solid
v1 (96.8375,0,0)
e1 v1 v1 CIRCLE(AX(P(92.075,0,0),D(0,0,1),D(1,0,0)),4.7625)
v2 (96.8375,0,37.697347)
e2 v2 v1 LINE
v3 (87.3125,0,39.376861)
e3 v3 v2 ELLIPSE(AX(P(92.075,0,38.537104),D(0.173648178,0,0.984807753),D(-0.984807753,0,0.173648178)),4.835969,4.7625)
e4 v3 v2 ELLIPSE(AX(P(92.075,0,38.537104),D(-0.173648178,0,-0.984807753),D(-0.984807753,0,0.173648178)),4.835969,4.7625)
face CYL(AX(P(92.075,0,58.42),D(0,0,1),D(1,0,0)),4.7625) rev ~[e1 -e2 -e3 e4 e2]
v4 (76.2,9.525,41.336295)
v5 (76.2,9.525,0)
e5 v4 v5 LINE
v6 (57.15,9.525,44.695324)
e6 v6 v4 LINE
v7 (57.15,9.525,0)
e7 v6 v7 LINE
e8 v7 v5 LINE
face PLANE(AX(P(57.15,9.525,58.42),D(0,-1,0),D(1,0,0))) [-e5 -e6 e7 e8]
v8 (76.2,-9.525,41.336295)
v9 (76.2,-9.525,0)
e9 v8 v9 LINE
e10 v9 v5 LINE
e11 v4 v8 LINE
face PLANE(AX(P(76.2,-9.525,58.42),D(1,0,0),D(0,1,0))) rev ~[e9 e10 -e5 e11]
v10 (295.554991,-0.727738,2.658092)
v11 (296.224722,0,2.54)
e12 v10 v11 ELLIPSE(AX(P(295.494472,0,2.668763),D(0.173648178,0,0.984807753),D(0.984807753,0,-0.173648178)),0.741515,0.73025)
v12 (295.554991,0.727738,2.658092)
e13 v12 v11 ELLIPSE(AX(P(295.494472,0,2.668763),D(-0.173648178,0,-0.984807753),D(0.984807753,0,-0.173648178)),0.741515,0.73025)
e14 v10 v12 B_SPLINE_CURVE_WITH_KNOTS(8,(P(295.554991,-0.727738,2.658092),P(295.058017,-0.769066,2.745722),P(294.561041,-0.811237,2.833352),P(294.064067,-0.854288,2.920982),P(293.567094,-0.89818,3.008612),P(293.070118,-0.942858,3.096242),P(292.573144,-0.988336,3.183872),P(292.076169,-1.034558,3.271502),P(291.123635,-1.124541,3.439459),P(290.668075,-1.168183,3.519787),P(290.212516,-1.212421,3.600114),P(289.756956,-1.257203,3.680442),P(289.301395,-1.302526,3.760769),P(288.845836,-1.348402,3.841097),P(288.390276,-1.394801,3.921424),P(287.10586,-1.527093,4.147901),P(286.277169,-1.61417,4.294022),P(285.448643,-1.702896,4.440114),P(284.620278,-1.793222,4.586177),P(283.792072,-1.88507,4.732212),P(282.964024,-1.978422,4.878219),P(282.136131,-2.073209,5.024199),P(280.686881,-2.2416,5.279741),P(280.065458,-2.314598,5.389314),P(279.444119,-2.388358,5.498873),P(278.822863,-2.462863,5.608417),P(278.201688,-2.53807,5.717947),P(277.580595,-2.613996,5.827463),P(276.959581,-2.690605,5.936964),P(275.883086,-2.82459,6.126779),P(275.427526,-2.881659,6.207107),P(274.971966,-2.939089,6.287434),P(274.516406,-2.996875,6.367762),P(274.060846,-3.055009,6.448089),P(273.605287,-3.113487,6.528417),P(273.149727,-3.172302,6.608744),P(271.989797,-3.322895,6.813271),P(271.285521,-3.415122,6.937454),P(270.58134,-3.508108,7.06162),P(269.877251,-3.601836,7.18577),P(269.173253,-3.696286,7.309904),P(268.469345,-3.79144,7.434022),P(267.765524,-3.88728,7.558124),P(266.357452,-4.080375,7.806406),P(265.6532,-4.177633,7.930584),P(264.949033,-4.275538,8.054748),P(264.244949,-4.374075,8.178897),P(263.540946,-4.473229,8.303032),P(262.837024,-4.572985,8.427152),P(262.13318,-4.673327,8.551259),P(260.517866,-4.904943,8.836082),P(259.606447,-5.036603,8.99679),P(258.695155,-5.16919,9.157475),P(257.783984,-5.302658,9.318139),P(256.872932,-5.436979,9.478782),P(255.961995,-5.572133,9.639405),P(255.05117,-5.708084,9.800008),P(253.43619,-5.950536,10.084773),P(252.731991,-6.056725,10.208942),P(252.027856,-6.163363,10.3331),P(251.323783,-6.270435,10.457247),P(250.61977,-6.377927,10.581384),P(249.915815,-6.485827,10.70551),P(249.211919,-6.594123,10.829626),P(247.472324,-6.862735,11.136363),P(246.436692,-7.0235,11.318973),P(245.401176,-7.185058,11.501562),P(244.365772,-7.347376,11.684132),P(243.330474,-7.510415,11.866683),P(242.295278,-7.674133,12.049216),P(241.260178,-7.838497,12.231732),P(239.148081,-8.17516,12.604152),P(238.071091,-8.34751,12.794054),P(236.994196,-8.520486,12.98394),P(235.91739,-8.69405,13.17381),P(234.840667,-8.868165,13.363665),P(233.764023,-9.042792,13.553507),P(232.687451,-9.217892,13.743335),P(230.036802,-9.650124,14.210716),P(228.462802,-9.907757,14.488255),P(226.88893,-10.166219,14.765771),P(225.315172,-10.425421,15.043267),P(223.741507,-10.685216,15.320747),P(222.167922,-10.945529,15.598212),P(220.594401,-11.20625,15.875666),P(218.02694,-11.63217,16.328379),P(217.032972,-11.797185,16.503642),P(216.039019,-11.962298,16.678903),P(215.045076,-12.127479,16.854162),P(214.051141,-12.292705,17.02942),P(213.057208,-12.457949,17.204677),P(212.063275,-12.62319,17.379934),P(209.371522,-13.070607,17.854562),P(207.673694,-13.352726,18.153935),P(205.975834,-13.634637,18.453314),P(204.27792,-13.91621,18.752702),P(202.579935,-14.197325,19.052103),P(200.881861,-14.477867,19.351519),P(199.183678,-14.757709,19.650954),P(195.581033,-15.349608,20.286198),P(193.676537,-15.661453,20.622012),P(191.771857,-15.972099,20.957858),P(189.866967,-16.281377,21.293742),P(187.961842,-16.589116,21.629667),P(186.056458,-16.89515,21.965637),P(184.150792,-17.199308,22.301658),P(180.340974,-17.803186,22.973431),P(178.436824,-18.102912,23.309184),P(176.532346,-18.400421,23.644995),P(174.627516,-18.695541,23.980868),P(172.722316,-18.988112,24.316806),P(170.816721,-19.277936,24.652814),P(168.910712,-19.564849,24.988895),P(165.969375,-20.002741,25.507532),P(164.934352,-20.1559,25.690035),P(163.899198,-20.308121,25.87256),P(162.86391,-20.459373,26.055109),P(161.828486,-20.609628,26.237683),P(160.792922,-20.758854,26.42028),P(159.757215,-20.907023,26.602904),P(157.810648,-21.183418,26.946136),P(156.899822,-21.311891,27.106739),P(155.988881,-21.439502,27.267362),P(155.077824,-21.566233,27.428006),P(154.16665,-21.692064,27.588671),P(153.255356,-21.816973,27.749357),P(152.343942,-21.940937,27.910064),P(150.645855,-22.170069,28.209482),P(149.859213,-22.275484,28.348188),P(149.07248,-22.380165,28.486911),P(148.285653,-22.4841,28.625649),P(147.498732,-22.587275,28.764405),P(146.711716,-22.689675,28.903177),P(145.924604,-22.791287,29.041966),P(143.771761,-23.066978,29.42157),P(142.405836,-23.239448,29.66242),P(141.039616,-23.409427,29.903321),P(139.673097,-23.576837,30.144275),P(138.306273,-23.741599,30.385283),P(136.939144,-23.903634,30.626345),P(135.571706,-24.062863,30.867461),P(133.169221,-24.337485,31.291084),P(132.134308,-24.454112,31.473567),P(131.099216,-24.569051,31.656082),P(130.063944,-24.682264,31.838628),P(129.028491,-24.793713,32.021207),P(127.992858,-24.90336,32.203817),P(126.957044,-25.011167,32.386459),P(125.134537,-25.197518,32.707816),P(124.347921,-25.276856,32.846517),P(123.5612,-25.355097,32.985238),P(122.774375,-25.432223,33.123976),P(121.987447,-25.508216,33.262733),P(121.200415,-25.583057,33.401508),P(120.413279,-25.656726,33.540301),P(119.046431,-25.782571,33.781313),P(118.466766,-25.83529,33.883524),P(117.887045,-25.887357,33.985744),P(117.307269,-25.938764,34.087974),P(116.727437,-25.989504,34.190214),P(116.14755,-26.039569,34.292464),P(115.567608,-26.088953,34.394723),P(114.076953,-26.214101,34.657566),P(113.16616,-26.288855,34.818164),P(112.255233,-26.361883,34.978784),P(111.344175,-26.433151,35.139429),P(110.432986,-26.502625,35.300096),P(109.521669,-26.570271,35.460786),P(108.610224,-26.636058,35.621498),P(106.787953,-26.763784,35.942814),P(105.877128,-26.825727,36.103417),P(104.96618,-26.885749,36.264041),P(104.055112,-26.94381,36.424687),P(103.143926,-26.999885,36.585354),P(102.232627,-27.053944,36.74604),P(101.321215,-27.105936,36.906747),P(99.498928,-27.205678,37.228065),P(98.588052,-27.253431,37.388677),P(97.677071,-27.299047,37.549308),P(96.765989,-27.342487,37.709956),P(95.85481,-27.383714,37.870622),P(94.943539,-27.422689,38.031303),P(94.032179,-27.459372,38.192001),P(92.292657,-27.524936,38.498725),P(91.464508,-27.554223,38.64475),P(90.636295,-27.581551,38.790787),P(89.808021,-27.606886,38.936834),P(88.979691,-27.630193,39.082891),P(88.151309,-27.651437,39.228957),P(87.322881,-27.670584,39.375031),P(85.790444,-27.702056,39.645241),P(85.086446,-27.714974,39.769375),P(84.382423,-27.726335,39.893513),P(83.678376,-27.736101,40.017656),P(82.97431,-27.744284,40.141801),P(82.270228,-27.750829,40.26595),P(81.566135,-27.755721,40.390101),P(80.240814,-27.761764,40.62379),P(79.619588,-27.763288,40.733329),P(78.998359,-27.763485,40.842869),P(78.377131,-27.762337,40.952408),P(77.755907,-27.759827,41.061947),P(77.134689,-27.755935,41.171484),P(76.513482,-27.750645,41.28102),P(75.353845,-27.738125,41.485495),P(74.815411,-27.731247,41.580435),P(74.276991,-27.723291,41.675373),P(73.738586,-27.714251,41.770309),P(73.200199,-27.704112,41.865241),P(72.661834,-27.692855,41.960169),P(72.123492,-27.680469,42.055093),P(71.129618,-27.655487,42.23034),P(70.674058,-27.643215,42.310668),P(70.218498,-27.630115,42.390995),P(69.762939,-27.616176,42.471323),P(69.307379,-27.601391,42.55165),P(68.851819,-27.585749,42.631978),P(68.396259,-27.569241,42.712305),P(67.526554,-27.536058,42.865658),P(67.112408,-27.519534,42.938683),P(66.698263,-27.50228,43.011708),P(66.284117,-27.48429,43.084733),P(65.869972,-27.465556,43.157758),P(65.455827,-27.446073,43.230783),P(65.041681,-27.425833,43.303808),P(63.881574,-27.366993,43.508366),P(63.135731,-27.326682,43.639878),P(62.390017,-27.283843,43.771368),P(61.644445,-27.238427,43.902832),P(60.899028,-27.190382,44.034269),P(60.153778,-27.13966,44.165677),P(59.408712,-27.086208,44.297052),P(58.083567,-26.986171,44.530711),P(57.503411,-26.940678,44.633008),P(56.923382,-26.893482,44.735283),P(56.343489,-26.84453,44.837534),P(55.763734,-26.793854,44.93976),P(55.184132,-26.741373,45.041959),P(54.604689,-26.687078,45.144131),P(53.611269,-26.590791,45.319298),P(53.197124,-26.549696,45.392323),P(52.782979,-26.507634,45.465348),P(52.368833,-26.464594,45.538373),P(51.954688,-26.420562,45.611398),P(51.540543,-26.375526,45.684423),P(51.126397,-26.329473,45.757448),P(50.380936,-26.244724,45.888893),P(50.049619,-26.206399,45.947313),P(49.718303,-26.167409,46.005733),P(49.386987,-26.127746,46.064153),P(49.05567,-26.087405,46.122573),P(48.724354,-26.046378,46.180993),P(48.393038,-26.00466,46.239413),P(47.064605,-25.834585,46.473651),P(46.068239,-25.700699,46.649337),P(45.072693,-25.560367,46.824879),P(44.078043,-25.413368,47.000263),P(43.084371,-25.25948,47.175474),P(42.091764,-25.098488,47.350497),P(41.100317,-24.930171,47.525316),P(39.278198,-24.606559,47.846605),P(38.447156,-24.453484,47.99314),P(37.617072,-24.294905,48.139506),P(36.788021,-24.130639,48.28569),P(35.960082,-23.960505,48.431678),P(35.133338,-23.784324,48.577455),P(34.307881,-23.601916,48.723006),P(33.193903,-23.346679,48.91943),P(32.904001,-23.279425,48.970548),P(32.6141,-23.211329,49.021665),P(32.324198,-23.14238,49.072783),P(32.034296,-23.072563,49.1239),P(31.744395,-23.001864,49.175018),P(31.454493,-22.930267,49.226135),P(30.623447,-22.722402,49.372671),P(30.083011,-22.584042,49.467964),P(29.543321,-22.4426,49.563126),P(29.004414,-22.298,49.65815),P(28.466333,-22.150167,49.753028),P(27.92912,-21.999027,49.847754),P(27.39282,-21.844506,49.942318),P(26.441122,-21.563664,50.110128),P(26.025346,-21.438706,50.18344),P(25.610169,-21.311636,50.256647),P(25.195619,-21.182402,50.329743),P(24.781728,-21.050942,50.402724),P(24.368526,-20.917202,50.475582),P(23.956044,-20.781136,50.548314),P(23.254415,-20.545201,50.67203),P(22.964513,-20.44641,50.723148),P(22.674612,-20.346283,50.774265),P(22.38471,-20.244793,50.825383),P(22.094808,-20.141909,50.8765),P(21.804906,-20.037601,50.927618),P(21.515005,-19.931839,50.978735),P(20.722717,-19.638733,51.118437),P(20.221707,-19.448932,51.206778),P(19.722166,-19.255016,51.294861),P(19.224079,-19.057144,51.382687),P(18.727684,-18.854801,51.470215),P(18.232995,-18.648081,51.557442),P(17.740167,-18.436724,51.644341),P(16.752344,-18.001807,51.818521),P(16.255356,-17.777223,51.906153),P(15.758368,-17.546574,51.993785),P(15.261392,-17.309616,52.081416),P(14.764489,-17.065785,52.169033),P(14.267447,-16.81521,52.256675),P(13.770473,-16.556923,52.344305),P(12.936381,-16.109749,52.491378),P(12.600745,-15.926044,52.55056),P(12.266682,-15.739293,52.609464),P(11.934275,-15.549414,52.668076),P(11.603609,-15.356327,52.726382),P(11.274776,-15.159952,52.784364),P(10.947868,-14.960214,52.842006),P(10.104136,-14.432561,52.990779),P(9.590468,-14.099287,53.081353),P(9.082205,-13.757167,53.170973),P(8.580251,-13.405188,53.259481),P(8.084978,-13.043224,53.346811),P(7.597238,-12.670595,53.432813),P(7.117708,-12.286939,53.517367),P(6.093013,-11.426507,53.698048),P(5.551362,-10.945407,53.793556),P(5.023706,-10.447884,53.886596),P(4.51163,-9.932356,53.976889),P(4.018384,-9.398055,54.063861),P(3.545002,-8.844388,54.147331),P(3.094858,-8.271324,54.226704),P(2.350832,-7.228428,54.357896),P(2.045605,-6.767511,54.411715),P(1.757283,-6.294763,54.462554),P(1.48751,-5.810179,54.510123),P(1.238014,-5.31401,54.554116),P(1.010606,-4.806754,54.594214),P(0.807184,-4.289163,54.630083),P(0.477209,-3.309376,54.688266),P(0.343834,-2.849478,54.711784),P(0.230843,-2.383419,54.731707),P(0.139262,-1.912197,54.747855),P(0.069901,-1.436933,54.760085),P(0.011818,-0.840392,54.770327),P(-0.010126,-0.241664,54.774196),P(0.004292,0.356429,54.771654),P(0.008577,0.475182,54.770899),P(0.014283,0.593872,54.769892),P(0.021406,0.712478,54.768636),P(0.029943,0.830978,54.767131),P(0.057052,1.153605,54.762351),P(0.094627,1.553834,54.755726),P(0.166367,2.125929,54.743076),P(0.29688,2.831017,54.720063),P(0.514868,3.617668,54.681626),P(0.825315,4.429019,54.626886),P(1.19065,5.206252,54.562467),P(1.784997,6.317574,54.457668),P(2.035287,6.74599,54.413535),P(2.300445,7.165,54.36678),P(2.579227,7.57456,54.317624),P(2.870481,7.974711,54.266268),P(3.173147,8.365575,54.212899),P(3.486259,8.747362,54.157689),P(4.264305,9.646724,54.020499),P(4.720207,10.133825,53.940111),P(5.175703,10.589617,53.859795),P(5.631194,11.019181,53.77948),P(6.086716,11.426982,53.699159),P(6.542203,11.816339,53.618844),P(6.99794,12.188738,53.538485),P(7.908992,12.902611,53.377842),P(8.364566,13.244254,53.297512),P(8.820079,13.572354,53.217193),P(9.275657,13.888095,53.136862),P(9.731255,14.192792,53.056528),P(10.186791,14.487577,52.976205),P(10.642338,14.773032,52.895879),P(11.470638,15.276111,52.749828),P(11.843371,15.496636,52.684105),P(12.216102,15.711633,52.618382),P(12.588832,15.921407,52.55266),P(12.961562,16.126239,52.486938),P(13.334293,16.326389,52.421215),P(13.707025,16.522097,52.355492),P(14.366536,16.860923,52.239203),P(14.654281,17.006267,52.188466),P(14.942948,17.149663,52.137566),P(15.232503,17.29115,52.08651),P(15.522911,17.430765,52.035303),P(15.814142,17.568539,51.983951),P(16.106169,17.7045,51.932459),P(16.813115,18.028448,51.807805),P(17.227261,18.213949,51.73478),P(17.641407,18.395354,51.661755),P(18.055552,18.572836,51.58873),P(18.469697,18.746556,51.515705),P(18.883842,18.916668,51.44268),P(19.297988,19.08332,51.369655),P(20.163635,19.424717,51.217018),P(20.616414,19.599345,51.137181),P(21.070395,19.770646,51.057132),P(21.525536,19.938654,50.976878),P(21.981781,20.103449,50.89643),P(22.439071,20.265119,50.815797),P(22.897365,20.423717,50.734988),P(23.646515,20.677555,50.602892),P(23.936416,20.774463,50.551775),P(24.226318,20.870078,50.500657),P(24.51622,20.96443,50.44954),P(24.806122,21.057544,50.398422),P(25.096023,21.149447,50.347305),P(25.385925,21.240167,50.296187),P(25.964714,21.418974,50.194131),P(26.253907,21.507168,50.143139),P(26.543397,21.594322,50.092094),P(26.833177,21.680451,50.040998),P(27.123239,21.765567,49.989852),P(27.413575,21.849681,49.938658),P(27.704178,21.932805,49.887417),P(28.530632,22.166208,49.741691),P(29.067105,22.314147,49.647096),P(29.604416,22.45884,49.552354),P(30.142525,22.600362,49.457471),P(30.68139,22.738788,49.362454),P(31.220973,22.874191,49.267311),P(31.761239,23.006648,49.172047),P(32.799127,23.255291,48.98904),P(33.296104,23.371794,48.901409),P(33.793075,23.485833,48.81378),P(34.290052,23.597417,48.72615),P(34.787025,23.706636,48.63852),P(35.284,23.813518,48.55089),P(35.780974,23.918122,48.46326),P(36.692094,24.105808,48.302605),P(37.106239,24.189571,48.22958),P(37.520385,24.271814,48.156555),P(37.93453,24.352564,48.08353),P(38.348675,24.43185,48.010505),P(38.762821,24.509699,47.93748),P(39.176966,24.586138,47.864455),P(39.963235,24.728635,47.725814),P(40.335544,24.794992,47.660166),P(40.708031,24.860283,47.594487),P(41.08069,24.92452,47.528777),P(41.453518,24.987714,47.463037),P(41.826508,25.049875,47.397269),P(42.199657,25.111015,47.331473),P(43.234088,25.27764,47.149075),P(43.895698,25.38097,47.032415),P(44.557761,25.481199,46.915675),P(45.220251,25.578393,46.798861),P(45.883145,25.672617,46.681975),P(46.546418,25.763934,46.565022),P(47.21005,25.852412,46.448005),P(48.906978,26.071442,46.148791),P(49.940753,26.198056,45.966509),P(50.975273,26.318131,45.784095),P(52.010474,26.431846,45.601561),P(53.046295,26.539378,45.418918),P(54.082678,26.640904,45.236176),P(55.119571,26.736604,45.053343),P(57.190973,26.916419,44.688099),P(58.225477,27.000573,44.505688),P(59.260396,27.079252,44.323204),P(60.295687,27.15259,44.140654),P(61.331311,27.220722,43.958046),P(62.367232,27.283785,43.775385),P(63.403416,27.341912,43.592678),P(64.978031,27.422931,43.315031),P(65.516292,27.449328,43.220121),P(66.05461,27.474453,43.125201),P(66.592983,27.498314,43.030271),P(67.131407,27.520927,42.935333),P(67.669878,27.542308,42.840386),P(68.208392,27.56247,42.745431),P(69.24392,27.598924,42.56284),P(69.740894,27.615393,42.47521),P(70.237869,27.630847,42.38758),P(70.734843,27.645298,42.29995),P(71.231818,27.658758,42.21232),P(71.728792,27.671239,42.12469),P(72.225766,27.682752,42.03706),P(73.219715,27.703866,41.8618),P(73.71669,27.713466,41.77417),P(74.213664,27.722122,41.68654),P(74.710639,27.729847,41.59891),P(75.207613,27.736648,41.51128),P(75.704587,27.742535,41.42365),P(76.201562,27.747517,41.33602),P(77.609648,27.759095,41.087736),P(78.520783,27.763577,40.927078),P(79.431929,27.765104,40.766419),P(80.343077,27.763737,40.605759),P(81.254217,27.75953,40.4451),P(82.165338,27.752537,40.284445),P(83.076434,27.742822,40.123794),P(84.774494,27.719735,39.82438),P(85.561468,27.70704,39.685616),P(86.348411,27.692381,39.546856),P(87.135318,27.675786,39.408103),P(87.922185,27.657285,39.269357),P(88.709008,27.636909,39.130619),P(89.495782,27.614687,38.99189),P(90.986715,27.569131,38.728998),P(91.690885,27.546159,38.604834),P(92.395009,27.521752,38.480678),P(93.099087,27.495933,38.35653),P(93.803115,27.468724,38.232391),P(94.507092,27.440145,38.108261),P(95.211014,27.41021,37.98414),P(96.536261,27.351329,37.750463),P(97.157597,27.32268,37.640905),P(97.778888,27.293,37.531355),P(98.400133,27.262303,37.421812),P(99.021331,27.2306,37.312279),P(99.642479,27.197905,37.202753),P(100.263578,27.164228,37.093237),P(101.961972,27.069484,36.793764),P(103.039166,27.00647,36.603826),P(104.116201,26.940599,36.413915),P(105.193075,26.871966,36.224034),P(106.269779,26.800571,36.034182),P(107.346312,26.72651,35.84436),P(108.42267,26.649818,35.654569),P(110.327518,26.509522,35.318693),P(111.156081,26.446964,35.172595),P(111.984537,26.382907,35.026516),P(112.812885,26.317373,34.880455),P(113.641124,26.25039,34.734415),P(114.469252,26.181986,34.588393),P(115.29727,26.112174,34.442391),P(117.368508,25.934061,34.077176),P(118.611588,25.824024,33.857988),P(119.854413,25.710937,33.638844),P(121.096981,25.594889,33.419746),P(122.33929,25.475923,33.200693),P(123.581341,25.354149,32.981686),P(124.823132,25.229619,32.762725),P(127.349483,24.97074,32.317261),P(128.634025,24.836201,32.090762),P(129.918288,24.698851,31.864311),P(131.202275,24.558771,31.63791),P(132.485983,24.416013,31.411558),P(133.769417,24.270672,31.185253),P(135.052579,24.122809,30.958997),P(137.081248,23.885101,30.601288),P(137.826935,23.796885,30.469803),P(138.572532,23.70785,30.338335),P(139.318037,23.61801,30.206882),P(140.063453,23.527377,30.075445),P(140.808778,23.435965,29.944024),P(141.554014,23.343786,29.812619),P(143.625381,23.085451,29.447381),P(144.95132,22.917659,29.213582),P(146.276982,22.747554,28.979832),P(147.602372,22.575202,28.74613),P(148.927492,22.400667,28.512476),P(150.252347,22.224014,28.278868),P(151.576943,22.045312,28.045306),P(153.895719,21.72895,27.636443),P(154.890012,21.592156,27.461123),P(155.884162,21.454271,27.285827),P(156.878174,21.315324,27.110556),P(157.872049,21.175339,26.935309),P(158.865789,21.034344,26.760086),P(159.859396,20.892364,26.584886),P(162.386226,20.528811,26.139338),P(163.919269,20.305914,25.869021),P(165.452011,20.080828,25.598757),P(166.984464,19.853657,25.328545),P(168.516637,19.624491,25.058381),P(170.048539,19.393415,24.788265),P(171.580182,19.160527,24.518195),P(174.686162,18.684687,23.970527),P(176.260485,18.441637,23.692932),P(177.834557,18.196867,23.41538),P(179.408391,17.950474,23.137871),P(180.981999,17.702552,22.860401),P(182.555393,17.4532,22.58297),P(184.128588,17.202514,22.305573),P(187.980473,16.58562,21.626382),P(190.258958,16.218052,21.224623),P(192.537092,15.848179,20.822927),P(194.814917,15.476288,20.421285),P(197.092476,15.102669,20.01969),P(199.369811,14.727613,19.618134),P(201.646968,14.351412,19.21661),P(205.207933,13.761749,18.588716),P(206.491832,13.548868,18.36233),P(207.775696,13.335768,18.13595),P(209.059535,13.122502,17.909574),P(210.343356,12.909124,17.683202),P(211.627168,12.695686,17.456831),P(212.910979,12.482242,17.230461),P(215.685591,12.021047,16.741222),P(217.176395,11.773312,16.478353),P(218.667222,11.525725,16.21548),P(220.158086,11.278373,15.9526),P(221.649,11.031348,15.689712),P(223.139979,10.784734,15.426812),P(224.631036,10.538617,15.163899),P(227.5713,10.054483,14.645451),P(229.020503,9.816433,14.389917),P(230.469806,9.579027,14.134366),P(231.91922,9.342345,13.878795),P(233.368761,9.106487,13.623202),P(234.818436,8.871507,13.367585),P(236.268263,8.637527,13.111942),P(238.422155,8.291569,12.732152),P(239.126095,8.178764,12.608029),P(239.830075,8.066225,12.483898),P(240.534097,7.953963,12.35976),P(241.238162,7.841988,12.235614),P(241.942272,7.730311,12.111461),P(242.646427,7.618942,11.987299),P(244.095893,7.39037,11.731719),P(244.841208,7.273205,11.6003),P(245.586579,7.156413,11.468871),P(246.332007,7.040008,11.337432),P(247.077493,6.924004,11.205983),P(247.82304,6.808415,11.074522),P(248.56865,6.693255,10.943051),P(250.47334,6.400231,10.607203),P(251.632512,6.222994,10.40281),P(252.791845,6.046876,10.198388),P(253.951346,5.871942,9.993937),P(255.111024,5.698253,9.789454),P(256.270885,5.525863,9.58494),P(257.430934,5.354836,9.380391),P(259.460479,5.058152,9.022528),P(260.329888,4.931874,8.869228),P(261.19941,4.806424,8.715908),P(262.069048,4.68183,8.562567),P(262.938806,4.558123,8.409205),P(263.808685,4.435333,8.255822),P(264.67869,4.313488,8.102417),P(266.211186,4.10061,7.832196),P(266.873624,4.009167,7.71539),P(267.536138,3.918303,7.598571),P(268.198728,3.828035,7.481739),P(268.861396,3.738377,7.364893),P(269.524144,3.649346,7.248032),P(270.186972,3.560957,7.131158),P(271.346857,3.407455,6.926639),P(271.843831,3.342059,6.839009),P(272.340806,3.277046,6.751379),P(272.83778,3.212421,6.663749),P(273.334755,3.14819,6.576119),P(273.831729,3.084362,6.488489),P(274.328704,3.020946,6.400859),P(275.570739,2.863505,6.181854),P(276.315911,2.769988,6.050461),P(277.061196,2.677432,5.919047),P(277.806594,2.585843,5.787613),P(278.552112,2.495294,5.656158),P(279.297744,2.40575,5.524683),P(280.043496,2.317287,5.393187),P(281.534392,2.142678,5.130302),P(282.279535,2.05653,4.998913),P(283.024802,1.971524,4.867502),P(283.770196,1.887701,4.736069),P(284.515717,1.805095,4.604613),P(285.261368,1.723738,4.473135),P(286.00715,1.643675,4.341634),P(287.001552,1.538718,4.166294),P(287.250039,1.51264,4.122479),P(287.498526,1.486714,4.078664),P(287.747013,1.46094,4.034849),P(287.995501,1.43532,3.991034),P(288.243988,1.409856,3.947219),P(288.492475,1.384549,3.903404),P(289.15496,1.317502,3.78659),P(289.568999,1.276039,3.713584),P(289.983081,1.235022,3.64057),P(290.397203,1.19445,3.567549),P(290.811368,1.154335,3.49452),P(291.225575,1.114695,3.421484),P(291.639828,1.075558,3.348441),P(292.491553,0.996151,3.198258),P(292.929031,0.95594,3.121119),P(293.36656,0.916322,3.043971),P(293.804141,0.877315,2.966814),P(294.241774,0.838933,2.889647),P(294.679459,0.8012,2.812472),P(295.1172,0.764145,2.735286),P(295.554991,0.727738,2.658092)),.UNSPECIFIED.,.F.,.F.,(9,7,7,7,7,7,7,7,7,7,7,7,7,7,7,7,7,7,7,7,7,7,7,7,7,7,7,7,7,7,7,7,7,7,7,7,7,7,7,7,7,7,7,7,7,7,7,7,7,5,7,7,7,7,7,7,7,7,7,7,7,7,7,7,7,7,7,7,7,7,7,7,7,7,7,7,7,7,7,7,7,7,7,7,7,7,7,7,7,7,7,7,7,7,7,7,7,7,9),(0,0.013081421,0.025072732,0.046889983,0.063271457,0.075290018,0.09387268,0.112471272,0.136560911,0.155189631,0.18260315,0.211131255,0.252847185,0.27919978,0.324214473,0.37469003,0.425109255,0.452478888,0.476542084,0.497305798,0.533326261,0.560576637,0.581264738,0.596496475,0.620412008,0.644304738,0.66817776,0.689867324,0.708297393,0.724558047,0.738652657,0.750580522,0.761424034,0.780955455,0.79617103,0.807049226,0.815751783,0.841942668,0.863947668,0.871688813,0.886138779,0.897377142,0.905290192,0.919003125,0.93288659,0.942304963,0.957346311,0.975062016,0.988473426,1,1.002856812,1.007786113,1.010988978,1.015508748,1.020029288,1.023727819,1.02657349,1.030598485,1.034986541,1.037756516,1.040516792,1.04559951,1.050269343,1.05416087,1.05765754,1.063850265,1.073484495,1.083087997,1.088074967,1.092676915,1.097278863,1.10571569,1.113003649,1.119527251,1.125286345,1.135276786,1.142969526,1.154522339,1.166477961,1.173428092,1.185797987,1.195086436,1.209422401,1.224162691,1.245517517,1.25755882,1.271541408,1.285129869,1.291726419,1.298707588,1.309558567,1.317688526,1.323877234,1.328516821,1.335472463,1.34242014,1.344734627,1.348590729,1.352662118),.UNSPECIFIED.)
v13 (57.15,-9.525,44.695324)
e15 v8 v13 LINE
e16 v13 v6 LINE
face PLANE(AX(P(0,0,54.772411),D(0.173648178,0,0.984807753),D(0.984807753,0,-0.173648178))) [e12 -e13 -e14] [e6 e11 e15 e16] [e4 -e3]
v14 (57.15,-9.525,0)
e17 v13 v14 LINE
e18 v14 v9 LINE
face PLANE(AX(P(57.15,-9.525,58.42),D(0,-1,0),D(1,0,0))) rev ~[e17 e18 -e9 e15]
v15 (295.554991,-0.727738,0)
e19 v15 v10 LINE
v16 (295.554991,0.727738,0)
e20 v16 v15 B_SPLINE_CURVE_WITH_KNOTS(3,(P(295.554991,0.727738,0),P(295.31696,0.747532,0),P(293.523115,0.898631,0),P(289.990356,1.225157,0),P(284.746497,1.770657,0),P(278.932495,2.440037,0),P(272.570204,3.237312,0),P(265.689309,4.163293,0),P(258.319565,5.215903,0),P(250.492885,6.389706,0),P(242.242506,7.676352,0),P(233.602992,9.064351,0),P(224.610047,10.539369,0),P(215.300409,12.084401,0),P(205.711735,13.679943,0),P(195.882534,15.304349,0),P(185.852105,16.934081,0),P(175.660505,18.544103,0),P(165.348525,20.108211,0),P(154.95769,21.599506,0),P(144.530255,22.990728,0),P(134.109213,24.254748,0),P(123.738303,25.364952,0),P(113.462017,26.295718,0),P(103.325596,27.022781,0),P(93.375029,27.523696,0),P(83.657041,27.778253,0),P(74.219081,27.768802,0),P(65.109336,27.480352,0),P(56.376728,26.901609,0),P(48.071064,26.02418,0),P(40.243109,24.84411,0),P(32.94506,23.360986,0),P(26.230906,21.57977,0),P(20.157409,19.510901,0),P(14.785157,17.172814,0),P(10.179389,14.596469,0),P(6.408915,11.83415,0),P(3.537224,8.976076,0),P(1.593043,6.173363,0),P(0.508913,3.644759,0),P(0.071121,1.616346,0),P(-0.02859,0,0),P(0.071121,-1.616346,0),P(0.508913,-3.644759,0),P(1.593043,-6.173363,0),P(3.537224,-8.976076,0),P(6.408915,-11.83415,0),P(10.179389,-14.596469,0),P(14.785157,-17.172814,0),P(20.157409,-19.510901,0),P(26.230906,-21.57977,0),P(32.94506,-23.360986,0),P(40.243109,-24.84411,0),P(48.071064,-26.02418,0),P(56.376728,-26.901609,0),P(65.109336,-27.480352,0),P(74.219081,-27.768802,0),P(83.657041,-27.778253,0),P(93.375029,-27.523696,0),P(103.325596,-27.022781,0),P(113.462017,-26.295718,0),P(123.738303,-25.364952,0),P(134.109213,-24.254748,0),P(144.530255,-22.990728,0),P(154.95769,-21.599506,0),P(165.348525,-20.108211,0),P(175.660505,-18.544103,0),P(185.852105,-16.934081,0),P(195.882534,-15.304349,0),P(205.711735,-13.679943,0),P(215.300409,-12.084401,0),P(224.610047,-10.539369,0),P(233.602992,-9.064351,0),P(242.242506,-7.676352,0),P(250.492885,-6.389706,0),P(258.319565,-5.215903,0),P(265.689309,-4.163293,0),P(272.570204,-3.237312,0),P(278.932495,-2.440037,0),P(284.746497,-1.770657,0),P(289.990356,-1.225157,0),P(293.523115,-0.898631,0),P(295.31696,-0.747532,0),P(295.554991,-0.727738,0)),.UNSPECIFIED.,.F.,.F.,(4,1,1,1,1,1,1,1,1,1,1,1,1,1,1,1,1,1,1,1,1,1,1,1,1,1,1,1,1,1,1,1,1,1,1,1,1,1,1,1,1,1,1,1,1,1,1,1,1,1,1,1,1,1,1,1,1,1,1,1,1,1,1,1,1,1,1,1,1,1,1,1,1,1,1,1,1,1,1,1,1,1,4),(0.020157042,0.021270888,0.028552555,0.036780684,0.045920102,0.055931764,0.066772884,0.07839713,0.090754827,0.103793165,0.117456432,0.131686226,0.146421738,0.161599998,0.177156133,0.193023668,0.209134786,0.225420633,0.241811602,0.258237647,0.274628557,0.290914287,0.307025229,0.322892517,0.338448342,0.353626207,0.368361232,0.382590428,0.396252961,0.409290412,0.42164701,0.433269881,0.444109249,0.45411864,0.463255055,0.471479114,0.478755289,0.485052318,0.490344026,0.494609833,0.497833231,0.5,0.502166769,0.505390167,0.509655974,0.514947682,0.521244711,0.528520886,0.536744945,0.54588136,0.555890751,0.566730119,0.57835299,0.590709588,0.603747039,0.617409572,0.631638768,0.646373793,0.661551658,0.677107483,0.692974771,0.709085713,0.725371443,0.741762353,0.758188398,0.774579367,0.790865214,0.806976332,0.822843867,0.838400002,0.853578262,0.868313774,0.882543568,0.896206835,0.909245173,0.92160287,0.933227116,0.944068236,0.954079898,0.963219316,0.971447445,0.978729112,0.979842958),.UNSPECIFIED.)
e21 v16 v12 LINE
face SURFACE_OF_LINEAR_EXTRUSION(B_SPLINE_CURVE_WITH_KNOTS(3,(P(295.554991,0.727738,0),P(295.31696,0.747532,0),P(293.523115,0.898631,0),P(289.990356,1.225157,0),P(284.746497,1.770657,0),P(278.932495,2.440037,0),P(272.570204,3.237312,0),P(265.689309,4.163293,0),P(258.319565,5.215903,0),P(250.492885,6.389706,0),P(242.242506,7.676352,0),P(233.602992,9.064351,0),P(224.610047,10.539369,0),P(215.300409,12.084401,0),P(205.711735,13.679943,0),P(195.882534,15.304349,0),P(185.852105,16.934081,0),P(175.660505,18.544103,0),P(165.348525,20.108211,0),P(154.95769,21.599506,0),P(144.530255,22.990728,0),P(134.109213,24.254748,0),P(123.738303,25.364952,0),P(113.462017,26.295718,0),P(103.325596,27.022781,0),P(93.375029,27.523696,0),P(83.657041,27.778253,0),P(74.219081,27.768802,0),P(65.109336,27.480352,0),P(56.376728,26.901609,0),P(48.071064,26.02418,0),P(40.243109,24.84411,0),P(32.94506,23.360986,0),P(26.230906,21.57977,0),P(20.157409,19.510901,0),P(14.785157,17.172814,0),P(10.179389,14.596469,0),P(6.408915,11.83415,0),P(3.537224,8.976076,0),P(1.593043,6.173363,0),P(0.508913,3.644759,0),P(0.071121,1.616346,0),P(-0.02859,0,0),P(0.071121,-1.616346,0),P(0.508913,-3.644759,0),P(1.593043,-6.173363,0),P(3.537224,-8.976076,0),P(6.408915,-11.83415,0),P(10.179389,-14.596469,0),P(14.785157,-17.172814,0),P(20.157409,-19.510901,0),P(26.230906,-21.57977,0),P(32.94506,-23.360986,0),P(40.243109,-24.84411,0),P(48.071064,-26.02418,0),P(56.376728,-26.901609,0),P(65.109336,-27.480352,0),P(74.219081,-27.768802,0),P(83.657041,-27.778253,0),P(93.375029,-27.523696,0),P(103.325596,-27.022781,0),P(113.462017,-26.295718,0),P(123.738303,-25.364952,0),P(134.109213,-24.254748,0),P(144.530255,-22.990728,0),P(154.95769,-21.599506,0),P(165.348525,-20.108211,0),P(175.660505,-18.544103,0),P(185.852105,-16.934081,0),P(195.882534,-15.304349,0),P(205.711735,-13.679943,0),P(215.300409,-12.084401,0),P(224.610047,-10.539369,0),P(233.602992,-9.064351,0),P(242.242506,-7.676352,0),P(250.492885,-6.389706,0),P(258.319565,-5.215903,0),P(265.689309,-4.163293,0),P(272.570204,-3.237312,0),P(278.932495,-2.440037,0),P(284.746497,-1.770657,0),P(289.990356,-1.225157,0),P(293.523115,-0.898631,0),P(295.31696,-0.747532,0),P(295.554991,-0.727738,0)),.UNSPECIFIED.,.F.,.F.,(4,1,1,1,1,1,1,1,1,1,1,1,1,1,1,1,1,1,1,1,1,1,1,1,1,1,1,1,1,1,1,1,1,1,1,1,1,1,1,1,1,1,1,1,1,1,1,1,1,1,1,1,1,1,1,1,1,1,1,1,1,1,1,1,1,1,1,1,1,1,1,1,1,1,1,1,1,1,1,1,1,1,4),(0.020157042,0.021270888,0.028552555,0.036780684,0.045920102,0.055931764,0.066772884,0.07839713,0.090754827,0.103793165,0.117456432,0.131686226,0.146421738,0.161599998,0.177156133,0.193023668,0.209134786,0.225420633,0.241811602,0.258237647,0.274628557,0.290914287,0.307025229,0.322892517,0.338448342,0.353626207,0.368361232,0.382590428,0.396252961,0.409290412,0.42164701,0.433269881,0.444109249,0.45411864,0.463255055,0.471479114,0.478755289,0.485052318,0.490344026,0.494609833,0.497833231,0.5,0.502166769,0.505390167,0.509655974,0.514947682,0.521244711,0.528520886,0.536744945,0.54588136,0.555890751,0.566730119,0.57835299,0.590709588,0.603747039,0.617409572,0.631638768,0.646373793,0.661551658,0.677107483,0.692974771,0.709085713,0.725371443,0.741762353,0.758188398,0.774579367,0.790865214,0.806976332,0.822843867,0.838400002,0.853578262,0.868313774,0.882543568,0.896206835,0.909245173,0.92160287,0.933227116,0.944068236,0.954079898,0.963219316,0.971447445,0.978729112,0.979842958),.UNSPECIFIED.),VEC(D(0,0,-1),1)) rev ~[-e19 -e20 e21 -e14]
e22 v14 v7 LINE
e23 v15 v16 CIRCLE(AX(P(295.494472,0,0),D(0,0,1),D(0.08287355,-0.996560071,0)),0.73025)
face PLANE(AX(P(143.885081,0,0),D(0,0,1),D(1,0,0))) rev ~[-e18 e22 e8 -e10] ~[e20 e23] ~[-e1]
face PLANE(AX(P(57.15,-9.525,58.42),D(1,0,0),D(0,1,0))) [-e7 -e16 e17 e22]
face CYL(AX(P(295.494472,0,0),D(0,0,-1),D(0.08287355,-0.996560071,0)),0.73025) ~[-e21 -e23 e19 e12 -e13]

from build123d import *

# Parameters (mm, degrees)
BOSS_EXTRUDE1_DEPTH      = 127
SCALE1_SCALE             = 0.46
SKETCH10_R               = 4.7625
SKETCH10_W               = 19.05
SKETCH10_H               = 19.05
CUT_EXTRUDE6_DEPTH       = 59.4200001
CUT_EXTRUDE11_DEPTH      = 28.762405604
CUT_EXTRUDE11_DEPTH_BACK = 28.762405604


with BuildPart() as part:
    # Sketch2 → Boss-Extrude1 (new body)
    with BuildSketch(Plane.XY):
        with BuildLine():
            add(Edge.make_bspline(
                [(642.510849283, 1.582039112), (641.993392355, 1.625070631), (638.093728429, 1.953546407), (630.413817462, 2.663385493), (619.014124193, 3.849253664), (606.374988512, 5.304428983), (592.543922516, 7.037634907), (577.585454095, 9.050636147), (561.564270734, 11.338919625), (544.549749946, 13.890665375), (526.614143658, 16.687720753), (507.832591566, 19.705111663), (488.282710288, 22.911672601), (468.044367735, 26.27043606), (447.199424328, 29.739007432), (425.831595832, 33.270324121), (404.02631566, 36.813220545), (381.870662856, 40.313266856), (359.453314895, 43.713502532), (336.86454415, 46.955447457), (314.196207315, 49.979843895), (291.541767704, 52.727712704), (268.996310773, 55.141201012), (246.65655865, 57.164603829), (224.620860897, 58.745176641), (202.989192599, 59.8341217), (181.863132616, 60.387506142), (161.345829027, 60.366961324), (141.542033828, 59.739895824), (122.558104573, 58.481758104), (104.502313427, 56.574303932), (87.485018636, 54.008935199), (71.619696083, 50.784752003), (57.023709725, 46.912543066), (43.82045433, 42.41500246), (32.141645239, 37.332204029), (22.129107375, 31.731455339), (13.932423524, 25.726412106), (7.689616489, 19.513207632), (3.463136343, 13.420354421), (1.106333228, 7.923389435), (0.154611582, 3.513796615), (-0.062151598, 0), (0.154611582, -3.513796615), (1.106333228, -7.923389435), (3.463136343, -13.420354421), (7.689616489, -19.513207632), (13.932423524, -25.726412106), (22.129107375, -31.731455339), (32.141645239, -37.332204029), (43.82045433, -42.41500246), (57.023709725, -46.912543066), (71.619696083, -50.784752003), (87.485018636, -54.008935199), (104.502313427, -56.574303932), (122.558104573, -58.481758104), (141.542033828, -59.739895824), (161.345829027, -60.366961324), (181.863132616, -60.387506142), (202.989192599, -59.8341217), (224.620860897, -58.745176641), (246.65655865, -57.164603829), (268.996310773, -55.141201012), (291.541767704, -52.727712704), (314.196207315, -49.979843895), (336.86454415, -46.955447457), (359.453314895, -43.713502532), (381.870662856, -40.313266856), (404.02631566, -36.813220545), (425.831595832, -33.270324121), (447.199424328, -29.739007432), (468.044367735, -26.27043606), (488.282710288, -22.911672601), (507.832591566, -19.705111663), (526.614143658, -16.687720753), (544.549749946, -13.890665375), (561.564270734, -11.338919625), (577.585454095, -9.050636147), (592.543922516, -7.037634907), (606.374988512, -5.304428983), (619.014124193, -3.849253664), (630.413817462, -2.663385493), (638.093728429, -1.953546407), (641.993392355, -1.625070631), (642.510849283, -1.582039112)],
                knots=[0.020157042, 0.020157042, 0.020157042, 0.020157042, 0.021270888, 0.028552555, 0.036780684, 0.045920102, 0.055931764, 0.066772884, 0.07839713, 0.090754827, 0.103793165, 0.117456432, 0.131686226, 0.146421738, 0.161599998, 0.177156133, 0.193023668, 0.209134786, 0.225420633, 0.241811602, 0.258237647, 0.274628557, 0.290914287, 0.307025229, 0.322892517, 0.338448342, 0.353626207, 0.368361232, 0.382590428, 0.396252961, 0.409290412, 0.42164701, 0.433269881, 0.444109249, 0.45411864, 0.463255055, 0.471479114, 0.478755289, 0.485052318, 0.490344026, 0.494609833, 0.497833231, 0.5, 0.502166769, 0.505390167, 0.509655974, 0.514947682, 0.521244711, 0.528520886, 0.536744945, 0.54588136, 0.555890751, 0.566730119, 0.57835299, 0.590709588, 0.603747039, 0.617409572, 0.631638768, 0.646373793, 0.661551658, 0.677107483, 0.692974771, 0.709085713, 0.725371443, 0.741762353, 0.758188398, 0.774579367, 0.790865214, 0.806976332, 0.822843867, 0.838400002, 0.853578262, 0.868313774, 0.882543568, 0.896206835, 0.909245173, 0.92160287, 0.933227116, 0.944068236, 0.954079898, 0.963219316, 0.971447445, 0.978729112, 0.979842958, 0.979842958, 0.979842958, 0.979842958], degree=3))
            ThreePointArc((642.510849283, -1.582039112), (643.966787522, 0), (642.510849283, 1.582039112))
        make_face()
    extrude(amount=BOSS_EXTRUDE1_DEPTH)


with BuildPart() as part_1:
    # Scale1: scaled about (0, 0, 0)
    add(part.part.scale(SCALE1_SCALE))

    # Sketch10 → Cut-Extrude6 (cut, through all)
    with BuildSketch(Plane.XY.offset(58.42)):
        with Locations((92.075, 0)):
            Circle(SKETCH10_R)
        with Locations((66.675, 0)):
            Rectangle(SKETCH10_W, SKETCH10_H)
    extrude(amount=-CUT_EXTRUDE6_DEPTH, mode=Mode.SUBTRACT)

    # Sketch13 → Cut-Extrude11 (cut, two sides)
    with BuildSketch(Plane(origin=(0, 0, 0), x_dir=(1, 0, 0), z_dir=(0, 1, 0))) as cut_extrude11_sk:
        Polygon((0, -54.772410887), (296.22472226, -2.54), (296.22472226, -58.42), (0, -58.42), align=None)
    extrude(amount=CUT_EXTRUDE11_DEPTH, mode=Mode.SUBTRACT)
    extrude(cut_extrude11_sk.sketch, amount=-CUT_EXTRUDE11_DEPTH_BACK, mode=Mode.SUBTRACT)


solid = part_1.part
